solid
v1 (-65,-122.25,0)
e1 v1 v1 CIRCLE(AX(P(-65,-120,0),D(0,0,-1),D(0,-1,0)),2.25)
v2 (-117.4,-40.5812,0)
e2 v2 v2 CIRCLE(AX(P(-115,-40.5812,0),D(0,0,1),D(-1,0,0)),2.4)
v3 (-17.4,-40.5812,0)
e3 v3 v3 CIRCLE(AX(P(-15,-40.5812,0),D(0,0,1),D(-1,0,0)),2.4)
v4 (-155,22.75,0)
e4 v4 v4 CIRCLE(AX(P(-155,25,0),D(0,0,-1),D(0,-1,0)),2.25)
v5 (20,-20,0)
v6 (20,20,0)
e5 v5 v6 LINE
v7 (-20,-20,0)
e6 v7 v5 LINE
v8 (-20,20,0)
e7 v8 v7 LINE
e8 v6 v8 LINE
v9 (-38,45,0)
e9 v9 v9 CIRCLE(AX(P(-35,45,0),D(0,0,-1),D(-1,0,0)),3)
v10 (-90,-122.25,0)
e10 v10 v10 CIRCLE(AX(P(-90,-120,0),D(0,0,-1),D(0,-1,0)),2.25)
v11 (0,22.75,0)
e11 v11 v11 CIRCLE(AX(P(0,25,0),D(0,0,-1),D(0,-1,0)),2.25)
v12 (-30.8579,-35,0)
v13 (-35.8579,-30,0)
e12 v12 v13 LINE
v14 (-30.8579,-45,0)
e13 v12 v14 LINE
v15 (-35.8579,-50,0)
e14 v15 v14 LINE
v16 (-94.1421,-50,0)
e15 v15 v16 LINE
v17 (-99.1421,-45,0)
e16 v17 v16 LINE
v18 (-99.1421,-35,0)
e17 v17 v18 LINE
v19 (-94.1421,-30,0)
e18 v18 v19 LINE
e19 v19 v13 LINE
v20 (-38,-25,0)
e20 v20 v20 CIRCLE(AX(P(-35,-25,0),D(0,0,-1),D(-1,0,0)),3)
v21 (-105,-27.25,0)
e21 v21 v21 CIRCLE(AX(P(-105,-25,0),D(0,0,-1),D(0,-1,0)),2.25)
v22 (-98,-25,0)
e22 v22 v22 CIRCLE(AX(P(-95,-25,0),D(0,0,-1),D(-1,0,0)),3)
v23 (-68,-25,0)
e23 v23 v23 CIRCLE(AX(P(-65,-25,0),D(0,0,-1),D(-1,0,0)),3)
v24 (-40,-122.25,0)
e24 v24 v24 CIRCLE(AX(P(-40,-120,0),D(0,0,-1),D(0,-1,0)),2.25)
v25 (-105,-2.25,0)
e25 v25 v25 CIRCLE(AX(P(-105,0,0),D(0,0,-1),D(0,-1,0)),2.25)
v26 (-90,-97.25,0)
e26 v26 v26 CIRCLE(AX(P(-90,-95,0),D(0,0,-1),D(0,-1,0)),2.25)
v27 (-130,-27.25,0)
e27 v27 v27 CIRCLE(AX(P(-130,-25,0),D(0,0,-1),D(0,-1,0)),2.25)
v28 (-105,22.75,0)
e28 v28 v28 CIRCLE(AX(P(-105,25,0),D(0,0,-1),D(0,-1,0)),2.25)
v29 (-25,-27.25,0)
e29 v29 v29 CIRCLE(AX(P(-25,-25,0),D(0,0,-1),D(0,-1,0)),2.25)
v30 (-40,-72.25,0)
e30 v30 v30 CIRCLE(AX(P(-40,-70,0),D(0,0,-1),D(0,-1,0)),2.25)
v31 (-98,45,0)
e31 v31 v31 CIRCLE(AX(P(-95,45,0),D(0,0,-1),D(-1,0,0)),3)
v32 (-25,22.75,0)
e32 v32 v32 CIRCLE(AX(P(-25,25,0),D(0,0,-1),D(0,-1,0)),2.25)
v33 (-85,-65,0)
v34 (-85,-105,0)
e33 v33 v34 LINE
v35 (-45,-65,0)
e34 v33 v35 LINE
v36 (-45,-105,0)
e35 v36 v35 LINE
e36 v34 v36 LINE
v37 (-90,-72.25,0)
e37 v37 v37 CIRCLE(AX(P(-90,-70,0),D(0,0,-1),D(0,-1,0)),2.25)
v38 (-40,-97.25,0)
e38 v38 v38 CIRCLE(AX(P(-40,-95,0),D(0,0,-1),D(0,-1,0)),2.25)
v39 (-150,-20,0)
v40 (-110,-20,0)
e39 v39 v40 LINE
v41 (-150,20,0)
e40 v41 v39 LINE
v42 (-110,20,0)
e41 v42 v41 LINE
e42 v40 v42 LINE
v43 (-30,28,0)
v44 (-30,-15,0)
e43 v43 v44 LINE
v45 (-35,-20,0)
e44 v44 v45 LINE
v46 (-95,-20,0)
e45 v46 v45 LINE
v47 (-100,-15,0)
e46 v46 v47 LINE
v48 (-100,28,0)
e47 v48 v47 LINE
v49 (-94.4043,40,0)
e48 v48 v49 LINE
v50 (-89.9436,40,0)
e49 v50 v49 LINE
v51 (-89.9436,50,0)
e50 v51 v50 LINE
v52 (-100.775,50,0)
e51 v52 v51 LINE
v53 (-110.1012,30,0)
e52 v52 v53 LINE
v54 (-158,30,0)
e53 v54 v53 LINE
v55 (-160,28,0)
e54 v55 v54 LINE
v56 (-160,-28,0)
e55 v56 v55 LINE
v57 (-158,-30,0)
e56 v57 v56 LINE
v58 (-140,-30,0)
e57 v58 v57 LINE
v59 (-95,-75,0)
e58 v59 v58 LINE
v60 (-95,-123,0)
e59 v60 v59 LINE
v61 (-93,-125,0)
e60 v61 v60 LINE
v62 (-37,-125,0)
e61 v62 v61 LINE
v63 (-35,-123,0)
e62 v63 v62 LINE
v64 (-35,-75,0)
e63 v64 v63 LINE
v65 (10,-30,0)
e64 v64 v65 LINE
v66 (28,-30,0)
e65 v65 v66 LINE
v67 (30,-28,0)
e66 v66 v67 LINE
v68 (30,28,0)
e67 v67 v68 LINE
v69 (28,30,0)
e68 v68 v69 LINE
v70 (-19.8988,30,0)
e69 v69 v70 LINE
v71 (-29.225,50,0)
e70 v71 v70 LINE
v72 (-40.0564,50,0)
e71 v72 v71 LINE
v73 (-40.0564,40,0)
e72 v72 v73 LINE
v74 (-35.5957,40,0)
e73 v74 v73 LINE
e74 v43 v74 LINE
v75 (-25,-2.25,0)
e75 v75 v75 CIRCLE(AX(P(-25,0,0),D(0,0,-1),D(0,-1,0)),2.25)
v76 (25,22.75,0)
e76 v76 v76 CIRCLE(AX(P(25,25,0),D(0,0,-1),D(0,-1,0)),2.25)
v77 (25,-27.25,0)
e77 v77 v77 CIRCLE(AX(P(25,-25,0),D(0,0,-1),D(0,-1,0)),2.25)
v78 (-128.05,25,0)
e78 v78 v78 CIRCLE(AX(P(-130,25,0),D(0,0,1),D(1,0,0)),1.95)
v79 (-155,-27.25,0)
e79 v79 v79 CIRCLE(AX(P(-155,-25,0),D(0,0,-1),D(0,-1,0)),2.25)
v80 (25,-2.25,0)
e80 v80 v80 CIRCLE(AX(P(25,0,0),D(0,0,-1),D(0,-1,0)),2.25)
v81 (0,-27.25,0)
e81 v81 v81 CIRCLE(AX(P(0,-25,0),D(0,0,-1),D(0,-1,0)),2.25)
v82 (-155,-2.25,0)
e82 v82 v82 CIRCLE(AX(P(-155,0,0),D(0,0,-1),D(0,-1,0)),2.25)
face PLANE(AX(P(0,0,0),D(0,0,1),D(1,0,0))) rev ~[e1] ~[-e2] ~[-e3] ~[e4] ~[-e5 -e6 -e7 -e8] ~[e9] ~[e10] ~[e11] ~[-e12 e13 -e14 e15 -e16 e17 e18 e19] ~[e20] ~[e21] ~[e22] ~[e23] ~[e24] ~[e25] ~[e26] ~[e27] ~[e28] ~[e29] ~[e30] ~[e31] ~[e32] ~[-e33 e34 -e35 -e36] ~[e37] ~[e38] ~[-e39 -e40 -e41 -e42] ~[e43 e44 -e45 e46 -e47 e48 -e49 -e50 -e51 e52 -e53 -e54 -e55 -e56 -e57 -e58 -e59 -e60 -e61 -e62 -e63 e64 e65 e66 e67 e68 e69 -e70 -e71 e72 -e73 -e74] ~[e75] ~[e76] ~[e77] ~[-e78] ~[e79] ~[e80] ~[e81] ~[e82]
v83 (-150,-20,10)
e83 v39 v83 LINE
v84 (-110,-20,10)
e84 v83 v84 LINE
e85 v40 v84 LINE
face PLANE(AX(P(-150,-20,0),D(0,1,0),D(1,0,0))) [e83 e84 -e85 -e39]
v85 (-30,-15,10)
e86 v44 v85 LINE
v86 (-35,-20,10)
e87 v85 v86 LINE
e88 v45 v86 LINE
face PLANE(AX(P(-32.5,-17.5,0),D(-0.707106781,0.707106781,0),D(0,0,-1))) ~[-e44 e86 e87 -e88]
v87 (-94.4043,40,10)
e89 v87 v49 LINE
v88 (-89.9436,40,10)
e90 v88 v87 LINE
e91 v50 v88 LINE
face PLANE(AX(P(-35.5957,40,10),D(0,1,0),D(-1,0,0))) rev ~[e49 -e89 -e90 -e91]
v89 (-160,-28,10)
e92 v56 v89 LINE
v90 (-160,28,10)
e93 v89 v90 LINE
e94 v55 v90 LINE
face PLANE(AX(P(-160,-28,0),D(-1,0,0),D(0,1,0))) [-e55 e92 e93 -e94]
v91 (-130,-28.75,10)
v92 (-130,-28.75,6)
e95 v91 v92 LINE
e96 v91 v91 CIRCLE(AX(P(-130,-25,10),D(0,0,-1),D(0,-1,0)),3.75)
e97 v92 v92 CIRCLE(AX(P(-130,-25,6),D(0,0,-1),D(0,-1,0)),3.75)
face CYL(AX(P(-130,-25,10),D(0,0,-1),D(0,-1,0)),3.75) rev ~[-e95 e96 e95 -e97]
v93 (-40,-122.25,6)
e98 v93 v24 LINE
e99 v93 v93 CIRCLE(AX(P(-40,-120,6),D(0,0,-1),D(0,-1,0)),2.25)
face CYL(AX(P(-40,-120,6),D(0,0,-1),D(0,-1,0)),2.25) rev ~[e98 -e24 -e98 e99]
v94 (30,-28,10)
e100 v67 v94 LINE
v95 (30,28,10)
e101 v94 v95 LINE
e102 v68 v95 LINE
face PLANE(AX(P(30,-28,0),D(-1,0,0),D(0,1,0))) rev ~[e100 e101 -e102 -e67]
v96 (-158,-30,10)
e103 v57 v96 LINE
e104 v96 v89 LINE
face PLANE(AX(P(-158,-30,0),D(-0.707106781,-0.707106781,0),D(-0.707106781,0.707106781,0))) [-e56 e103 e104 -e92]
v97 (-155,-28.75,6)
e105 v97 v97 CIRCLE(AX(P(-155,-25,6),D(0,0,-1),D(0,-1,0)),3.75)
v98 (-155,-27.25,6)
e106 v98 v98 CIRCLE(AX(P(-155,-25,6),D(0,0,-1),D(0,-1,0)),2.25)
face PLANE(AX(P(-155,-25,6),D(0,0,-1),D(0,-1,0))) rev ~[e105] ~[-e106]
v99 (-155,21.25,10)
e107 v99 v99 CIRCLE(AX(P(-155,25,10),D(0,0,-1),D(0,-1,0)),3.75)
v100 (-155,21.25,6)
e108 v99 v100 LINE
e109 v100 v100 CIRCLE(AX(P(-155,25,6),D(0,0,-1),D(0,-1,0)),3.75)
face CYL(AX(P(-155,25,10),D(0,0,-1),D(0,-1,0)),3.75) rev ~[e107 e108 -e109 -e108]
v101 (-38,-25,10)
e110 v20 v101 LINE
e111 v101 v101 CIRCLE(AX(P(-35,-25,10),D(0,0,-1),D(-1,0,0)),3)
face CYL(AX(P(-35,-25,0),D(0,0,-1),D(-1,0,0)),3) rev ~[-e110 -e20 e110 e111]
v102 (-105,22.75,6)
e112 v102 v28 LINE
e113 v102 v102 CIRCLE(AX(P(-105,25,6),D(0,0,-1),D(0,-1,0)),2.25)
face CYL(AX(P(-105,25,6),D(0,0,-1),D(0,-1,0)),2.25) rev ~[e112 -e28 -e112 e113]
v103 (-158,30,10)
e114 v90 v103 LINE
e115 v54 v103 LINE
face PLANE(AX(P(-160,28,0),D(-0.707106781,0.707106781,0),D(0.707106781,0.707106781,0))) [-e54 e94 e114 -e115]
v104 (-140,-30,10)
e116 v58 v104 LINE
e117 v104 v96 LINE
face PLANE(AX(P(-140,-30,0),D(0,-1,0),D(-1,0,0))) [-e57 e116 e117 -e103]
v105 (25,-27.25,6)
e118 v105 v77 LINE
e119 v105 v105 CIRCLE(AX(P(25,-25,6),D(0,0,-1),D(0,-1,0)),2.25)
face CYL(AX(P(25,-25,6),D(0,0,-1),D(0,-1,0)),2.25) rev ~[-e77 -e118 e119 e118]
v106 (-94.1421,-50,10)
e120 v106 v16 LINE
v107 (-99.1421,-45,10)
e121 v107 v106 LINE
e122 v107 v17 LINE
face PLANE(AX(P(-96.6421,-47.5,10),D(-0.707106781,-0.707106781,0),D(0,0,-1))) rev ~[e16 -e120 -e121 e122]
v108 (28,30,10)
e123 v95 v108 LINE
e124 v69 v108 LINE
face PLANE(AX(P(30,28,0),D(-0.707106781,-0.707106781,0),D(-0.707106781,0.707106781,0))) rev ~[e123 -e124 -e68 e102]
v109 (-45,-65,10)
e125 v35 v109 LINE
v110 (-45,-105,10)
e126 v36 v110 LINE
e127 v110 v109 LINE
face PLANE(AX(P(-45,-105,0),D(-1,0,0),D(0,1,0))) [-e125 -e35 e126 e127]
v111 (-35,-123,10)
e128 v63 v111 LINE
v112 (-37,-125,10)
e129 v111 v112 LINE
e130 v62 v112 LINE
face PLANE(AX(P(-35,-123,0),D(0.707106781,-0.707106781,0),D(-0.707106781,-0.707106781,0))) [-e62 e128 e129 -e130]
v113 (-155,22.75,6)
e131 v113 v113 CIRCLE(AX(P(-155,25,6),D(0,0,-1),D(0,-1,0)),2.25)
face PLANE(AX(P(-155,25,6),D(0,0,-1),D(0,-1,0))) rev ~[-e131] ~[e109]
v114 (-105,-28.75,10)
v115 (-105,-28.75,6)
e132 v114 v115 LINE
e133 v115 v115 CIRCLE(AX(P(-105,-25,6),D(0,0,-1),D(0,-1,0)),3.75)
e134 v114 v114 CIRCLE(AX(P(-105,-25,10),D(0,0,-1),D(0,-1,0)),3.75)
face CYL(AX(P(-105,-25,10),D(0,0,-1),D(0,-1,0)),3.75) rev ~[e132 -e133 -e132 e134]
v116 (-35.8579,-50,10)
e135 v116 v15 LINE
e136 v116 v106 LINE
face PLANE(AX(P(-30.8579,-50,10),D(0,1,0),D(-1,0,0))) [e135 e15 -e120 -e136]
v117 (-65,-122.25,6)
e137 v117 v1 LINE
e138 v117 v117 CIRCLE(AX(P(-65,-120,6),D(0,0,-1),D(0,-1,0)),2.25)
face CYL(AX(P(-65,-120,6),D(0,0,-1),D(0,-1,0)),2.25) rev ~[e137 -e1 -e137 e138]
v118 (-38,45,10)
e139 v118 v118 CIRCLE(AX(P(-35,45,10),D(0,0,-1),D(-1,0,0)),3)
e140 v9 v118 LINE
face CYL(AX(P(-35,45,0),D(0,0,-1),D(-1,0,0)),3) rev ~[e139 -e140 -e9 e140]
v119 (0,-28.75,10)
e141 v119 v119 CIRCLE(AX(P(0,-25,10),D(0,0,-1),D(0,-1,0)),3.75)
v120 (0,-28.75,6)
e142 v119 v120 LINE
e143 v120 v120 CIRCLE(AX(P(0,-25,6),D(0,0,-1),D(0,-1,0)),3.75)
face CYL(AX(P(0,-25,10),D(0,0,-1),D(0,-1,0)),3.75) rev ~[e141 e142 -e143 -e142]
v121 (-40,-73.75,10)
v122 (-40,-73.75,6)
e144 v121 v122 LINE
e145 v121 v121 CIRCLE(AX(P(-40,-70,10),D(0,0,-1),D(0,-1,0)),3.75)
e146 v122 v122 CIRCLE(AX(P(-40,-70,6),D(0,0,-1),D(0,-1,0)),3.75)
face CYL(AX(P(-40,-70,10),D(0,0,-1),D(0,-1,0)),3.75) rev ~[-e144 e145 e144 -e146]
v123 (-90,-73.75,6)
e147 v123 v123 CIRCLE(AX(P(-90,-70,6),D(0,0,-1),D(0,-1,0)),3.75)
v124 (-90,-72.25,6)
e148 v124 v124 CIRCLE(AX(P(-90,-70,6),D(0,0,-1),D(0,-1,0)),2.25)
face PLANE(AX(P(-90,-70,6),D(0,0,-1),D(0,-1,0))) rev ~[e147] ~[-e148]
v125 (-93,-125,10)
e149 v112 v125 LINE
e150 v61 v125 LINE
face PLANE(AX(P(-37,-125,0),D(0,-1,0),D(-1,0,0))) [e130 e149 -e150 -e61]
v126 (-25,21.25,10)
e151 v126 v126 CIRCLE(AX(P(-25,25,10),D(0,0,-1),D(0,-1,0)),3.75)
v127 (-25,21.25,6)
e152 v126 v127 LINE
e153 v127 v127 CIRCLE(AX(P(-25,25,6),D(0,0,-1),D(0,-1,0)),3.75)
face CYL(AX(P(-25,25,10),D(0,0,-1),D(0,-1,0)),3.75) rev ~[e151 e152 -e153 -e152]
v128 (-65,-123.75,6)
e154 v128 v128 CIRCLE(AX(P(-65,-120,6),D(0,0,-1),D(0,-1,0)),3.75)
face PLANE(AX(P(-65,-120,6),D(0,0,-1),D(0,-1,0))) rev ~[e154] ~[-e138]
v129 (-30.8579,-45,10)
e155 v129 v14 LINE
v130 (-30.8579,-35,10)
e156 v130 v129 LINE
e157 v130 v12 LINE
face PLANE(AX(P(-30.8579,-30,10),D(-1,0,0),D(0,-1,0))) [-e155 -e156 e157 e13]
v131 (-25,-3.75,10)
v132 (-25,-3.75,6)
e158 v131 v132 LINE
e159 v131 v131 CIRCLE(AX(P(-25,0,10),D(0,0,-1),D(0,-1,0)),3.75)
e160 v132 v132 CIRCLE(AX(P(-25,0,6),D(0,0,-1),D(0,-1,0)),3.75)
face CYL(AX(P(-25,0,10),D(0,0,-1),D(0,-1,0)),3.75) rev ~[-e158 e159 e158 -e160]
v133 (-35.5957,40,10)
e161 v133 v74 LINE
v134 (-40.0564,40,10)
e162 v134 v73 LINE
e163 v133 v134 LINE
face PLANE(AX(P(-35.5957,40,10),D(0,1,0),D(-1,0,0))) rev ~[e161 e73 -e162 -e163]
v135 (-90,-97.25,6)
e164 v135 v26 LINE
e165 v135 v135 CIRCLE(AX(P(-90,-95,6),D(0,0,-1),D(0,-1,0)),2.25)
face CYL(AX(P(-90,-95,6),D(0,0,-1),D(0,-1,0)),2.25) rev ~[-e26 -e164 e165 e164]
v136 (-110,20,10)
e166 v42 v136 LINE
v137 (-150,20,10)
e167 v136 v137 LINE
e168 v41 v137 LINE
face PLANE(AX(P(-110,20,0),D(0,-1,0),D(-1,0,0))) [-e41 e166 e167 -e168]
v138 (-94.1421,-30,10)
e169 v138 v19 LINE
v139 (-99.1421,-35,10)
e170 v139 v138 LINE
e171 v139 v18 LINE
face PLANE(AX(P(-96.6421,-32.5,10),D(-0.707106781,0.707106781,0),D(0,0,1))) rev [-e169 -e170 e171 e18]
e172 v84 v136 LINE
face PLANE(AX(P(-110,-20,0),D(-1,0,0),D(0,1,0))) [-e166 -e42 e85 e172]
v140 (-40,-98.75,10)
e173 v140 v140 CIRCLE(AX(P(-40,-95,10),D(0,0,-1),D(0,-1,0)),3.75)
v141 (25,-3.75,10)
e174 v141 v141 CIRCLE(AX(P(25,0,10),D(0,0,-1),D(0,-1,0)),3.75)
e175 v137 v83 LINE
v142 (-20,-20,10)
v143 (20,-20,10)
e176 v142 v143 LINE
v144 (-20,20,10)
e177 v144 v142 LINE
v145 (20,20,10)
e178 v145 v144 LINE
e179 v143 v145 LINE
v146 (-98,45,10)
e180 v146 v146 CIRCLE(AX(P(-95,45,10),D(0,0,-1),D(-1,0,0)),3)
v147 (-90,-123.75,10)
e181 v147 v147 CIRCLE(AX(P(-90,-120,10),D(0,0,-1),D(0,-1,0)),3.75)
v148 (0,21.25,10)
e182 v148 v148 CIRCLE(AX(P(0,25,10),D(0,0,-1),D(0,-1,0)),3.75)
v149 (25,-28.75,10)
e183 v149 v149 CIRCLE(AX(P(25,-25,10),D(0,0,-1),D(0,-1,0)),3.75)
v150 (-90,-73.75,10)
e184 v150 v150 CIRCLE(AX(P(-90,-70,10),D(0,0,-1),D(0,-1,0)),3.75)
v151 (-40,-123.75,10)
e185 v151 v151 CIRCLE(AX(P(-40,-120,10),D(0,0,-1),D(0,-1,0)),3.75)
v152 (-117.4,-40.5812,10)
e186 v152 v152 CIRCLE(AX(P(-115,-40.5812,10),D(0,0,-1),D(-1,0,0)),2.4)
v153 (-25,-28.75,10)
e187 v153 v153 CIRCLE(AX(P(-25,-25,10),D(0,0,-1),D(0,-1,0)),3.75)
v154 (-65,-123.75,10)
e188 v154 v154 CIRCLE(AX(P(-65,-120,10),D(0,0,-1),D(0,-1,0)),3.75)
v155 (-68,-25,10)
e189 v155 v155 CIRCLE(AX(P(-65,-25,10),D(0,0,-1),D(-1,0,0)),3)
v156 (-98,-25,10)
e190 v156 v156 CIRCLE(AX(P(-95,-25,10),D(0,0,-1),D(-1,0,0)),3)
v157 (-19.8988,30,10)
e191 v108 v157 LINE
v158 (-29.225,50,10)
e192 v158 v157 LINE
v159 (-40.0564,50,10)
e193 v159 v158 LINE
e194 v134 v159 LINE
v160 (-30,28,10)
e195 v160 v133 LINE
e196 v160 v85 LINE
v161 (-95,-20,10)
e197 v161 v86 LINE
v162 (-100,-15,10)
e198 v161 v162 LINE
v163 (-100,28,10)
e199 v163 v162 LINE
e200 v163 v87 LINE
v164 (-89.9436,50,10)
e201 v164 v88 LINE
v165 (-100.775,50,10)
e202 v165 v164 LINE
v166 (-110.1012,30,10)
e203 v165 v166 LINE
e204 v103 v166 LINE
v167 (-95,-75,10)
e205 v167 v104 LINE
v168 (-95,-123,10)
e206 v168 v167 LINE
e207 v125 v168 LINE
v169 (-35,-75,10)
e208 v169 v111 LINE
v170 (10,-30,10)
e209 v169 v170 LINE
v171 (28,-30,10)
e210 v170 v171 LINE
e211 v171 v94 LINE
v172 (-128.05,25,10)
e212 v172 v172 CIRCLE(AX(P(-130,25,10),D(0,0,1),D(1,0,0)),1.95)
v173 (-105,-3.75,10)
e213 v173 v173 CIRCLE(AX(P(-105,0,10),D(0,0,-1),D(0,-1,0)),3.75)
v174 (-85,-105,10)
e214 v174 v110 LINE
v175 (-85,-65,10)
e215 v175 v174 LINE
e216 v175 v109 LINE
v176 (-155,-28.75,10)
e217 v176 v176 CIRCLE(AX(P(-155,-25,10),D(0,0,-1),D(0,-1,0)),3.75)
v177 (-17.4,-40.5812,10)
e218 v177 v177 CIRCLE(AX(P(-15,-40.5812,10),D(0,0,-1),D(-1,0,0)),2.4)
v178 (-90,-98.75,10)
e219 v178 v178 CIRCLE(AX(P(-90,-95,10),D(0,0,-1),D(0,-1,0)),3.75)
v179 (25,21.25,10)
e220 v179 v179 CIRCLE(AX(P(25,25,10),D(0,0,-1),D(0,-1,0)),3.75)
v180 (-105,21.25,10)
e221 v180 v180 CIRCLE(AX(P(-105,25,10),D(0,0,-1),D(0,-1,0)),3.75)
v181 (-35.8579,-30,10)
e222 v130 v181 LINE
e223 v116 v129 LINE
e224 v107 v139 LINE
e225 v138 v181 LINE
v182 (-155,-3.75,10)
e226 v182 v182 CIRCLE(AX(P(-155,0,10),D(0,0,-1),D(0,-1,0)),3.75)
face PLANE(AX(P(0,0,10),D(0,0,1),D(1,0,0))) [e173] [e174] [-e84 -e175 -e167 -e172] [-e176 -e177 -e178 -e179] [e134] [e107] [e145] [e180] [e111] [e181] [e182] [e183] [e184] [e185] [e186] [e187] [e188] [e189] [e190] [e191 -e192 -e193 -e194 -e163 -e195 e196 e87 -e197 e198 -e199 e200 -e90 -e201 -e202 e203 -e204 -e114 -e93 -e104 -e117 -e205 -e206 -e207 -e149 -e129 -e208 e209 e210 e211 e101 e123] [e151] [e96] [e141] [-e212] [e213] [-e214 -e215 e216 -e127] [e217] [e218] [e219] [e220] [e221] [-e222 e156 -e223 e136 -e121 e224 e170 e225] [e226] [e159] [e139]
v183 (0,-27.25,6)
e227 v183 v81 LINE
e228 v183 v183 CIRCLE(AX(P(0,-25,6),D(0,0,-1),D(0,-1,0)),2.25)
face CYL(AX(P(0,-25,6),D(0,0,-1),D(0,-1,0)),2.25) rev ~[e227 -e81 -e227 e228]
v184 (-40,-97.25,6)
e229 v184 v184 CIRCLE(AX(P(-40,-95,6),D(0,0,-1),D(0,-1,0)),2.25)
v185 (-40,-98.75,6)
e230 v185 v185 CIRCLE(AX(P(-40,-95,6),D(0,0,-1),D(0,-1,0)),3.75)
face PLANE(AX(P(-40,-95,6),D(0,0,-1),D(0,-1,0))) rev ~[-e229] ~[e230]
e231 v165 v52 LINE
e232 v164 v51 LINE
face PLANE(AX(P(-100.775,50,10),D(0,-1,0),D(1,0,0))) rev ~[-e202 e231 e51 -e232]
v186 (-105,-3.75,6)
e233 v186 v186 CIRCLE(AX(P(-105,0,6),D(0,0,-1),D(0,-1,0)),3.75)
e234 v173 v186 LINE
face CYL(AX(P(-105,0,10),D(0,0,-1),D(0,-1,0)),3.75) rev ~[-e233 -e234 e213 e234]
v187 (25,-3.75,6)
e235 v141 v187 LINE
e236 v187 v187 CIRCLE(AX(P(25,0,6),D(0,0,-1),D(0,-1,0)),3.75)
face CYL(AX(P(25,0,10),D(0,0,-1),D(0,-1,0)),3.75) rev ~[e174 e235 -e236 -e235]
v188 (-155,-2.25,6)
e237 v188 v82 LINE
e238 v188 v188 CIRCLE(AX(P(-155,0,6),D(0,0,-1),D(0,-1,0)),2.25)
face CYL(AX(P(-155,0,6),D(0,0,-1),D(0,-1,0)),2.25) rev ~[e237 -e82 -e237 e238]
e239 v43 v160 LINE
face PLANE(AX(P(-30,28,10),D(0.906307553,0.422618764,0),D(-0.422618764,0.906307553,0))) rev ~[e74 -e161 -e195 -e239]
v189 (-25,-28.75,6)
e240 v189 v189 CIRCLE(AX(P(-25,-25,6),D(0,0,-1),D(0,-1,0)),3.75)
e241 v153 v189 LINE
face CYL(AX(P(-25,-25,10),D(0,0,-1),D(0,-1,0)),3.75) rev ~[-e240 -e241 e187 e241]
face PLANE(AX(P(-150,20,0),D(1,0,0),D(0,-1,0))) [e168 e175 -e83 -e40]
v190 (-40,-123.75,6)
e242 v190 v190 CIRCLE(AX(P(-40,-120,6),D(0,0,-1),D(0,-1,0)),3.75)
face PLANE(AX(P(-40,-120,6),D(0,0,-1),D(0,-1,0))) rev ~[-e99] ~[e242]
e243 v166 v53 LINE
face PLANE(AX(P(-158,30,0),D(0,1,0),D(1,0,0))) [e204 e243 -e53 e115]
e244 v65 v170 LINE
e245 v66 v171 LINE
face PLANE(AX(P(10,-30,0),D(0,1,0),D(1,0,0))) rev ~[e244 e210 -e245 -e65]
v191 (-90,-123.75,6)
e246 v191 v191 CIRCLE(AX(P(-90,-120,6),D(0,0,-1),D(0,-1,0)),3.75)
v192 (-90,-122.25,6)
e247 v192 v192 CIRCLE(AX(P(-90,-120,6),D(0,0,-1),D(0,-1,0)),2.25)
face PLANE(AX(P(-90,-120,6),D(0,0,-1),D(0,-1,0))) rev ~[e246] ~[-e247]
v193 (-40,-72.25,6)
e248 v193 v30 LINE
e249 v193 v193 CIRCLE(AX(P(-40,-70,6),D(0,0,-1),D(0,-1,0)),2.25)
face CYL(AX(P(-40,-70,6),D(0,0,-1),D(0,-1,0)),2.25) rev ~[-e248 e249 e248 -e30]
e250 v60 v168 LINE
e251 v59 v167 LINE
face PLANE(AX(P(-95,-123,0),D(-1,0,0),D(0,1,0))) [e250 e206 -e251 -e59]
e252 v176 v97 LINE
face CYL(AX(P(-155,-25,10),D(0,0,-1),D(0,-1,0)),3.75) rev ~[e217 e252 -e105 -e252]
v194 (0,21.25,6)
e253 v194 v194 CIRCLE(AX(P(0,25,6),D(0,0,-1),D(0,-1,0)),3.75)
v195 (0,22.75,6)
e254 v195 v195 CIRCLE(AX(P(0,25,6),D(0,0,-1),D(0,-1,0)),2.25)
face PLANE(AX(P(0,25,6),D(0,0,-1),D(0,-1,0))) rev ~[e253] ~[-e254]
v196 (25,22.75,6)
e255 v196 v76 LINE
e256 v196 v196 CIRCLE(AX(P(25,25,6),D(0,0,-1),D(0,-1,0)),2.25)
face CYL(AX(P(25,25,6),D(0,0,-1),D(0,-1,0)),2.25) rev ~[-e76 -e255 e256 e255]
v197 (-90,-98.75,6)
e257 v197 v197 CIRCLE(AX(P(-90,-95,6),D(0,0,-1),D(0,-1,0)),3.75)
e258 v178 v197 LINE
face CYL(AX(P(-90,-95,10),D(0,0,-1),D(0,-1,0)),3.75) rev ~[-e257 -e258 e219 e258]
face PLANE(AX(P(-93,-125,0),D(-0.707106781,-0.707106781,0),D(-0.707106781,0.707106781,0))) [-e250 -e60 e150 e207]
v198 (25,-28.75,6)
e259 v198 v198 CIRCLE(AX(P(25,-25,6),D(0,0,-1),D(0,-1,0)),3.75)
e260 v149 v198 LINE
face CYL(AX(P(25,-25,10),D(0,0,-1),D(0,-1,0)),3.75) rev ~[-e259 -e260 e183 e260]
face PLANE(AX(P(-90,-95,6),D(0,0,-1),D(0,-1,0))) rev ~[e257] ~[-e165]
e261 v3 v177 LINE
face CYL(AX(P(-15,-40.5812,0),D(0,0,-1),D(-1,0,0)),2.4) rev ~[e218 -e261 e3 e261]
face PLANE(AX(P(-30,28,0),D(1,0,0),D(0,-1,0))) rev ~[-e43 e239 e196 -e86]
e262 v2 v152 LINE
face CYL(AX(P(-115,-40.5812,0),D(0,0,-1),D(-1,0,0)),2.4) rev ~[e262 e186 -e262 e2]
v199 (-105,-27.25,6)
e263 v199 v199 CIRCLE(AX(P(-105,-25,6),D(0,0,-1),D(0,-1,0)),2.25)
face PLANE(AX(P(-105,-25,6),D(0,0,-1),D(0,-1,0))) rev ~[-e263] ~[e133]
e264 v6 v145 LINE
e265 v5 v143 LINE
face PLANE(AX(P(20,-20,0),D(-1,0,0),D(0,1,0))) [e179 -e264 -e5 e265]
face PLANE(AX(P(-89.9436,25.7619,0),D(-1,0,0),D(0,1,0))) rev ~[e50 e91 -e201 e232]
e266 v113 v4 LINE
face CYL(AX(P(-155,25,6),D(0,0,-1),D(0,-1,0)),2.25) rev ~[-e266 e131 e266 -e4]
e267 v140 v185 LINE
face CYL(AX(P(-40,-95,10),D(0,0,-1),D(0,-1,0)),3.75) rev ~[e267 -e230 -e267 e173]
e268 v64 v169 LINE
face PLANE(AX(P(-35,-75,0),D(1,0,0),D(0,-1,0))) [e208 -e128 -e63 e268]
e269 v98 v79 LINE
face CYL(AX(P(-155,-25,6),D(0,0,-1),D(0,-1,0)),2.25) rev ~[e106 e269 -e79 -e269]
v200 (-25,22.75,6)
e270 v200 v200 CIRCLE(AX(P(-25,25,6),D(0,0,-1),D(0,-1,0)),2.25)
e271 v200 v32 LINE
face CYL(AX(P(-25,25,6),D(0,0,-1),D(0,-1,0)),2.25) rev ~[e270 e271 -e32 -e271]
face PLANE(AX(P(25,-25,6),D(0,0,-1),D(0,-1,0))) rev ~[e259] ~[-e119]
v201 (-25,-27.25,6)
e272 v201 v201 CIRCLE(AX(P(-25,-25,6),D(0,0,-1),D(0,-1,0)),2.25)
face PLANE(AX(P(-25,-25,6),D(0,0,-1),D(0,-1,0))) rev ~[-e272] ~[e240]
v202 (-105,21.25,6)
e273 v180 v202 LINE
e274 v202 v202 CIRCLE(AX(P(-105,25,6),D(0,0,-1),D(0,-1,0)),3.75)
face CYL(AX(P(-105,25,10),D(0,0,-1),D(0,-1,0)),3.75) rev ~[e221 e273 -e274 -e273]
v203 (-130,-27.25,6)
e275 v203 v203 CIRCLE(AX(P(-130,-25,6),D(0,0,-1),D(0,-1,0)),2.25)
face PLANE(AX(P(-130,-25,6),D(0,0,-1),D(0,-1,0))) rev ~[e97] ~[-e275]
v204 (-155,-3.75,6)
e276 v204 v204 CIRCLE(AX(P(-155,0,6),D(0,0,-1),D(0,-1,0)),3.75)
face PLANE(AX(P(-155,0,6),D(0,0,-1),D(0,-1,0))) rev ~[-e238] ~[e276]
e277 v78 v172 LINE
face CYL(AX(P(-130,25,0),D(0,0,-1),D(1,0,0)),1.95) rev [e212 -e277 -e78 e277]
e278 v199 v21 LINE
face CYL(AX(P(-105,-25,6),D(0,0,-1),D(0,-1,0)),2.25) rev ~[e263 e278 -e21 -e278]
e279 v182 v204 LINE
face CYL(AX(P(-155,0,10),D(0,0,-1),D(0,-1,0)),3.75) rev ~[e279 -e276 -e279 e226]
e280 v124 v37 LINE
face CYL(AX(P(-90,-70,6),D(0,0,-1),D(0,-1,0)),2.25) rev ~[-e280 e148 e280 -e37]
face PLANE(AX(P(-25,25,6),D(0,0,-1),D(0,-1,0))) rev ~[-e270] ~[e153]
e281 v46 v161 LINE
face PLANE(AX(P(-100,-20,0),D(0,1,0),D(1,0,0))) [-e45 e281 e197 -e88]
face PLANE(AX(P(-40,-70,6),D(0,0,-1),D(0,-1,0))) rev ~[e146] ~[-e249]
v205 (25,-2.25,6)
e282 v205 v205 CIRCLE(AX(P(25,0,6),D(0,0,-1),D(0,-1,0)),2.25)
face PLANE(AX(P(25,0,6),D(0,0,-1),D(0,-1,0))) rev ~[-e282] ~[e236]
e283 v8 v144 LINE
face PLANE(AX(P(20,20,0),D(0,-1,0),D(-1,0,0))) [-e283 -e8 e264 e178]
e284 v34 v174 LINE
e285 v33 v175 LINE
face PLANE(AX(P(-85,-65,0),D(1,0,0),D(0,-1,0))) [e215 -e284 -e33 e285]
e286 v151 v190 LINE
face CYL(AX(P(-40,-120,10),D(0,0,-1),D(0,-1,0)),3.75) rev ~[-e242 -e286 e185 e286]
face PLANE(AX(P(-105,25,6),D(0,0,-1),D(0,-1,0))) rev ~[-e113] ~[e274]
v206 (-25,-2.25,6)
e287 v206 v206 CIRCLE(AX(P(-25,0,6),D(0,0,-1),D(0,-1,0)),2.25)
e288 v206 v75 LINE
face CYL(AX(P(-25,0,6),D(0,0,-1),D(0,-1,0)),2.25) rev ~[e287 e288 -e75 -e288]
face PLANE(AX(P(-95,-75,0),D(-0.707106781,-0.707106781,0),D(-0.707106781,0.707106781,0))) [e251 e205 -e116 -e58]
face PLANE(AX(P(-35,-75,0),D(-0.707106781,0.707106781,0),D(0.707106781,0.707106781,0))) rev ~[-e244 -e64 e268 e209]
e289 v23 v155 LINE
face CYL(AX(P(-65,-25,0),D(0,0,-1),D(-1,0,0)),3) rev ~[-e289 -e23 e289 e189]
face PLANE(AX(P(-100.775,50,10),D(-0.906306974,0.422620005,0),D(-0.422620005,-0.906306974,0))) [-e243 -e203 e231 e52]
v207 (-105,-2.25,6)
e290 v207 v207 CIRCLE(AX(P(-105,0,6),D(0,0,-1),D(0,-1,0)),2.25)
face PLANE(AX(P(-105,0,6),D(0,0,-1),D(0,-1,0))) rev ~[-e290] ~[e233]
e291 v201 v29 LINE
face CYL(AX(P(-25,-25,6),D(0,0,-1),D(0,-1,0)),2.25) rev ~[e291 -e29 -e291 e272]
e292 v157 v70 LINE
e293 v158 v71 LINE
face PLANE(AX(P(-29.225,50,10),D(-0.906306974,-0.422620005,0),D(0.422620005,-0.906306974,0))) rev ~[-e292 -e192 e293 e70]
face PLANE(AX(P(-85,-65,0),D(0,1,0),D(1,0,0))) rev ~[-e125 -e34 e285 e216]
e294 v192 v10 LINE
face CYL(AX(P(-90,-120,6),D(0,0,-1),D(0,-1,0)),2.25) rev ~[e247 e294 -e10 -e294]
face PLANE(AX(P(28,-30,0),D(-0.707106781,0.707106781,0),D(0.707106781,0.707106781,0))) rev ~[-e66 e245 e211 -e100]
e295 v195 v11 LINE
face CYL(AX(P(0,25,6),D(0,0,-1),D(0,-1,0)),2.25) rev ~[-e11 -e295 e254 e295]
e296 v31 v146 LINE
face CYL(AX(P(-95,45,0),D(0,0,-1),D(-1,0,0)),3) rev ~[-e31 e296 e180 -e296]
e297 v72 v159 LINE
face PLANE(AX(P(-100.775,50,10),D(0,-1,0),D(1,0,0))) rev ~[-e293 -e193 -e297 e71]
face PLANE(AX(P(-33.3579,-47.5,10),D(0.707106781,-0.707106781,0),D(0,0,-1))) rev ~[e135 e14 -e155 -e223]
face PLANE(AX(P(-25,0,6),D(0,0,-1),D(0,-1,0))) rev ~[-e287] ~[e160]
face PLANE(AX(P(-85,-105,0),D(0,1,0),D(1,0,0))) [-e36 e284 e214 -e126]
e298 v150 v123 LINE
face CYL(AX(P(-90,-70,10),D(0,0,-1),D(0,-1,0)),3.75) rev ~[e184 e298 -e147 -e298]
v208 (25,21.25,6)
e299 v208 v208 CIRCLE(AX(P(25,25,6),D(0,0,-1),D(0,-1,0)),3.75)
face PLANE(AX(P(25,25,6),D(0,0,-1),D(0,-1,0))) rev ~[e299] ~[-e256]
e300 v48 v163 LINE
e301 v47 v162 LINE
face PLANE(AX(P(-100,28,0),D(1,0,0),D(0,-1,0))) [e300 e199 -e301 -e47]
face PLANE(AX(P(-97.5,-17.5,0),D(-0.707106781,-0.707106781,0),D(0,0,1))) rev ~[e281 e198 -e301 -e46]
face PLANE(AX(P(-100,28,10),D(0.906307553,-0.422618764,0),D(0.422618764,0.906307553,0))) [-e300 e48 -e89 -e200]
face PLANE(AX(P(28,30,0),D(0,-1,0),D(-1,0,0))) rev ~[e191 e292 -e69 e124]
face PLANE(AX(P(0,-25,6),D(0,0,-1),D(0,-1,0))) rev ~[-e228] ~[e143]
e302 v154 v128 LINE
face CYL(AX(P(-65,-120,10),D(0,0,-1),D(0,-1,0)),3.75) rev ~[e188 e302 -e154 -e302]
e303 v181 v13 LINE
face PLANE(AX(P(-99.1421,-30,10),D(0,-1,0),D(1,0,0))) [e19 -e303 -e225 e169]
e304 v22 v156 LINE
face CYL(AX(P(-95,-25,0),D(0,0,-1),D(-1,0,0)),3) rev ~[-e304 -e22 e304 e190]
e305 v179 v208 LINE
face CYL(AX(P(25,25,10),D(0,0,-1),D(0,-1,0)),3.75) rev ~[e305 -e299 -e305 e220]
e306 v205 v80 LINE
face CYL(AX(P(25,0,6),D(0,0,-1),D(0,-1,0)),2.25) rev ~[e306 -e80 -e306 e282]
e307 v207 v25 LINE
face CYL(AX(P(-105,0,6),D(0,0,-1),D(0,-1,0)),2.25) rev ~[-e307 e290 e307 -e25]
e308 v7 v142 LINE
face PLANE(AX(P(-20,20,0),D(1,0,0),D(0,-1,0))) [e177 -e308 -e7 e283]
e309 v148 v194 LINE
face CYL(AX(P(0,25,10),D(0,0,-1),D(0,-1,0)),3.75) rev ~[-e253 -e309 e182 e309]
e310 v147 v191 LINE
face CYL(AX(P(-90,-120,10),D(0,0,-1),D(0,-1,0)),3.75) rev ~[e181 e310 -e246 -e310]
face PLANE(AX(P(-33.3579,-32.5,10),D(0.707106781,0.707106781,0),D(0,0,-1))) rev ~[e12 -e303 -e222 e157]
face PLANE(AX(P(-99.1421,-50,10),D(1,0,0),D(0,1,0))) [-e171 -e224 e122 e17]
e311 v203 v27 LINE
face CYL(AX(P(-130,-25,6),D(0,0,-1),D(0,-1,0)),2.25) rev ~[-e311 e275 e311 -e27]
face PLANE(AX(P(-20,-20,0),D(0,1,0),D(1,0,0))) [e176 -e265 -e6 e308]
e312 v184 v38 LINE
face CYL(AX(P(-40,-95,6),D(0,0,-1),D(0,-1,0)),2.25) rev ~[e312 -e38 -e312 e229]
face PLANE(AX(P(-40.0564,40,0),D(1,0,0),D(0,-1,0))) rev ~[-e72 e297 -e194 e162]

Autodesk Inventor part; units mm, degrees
ref_plane "YZ Plane" through (0, 0, 0) normal (1, 0, 0) x (0, 1, 0)
ref_plane "XZ Plane" through (0, 0, 0) normal (0, 1, 0) x (-1, 0, 0)
ref_plane "XY Plane" through (0, 0, 0) normal (0, 0, 1) x (1, 0, 0)
ref_plane "Work Plane1" through (0, 0, 0) normal (0, 0, 1) x (1, 0, 0)
sketch "Sketch1" plane through (0, 0, 0) normal (0, 0, 1) x (1, 0, 0)
  circle A0 centre (0, 25) radius 1.95 projected
  circle A1 centre (-25, 0) radius 1.95 projected
  circle A2 centre (-25, -25) radius 1.95 projected
  circle A3 centre (25, 25) radius 1.95 projected
  circle A4 centre (25, -25) radius 1.95 projected
  circle A5 centre (-25, 25) radius 1.95 projected
  circle A6 centre (25, 0) radius 1.95 projected
  circle A7 centre (0, -25) radius 1.95 projected
  line L0 (-28, 30) -> (-30, 28) projected
  line L1 (-30, 28) -> (-30, -28) projected
  line L2 (-30, -28) -> (-28, -30) projected
  line L3 (-28, -30) -> (28, -30) projected
  line L4 (28, -30) -> (30, -28) projected
  line L5 (30, -28) -> (30, 28) projected
  line L6 (30, 28) -> (28, 30) projected
  line L7 (28, 30) -> (-28, 30) projected
  circle A8 centre (-130, 25) radius 1.95 projected
  circle A9 centre (-105, 0) radius 1.95 projected
  circle A10 centre (-105, -25) radius 1.95 projected
  circle A11 centre (-155, 25) radius 1.95 projected
  circle A12 centre (-155, -25) radius 1.95 projected
  circle A13 centre (-105, 25) radius 1.95 projected
  circle A14 centre (-155, 0) radius 1.95 projected
  circle A15 centre (-130, -25) radius 1.95 projected
  line L8 (-102, 30) -> (-100, 28) projected
  line L9 (-100, 28) -> (-100, -28) projected
  line L10 (-100, -28) -> (-102, -30) projected
  line L11 (-102, -30) -> (-158, -30) projected
  line L12 (-158, -30) -> (-160, -28) projected
  line L13 (-160, -28) -> (-160, 28) projected
  line L14 (-160, 28) -> (-158, 30) projected
  line L15 (-158, 30) -> (-102, 30) projected
  circle A16 centre (-90, -95) radius 1.95 projected
  circle A17 centre (-65, -70) radius 1.95 projected
  circle A18 centre (-40, -70) radius 1.95 projected
  circle A19 centre (-90, -120) radius 1.95 projected
  circle A20 centre (-40, -120) radius 1.95 projected
  circle A21 centre (-90, -70) radius 1.95 projected
  circle A22 centre (-65, -120) radius 1.95 projected
  circle A23 centre (-40, -95) radius 1.95 projected
  line L16 (-95, -67) -> (-93, -65) projected
  line L17 (-93, -65) -> (-37, -65) projected
  line L18 (-37, -65) -> (-35, -67) projected
  line L19 (-35, -67) -> (-35, -123) projected
  line L20 (-35, -123) -> (-37, -125) projected
  line L21 (-37, -125) -> (-93, -125) projected
  line L22 (-93, -125) -> (-95, -123) projected
  line L23 (-95, -123) -> (-95, -67) projected
  line L24 (-100, -20) -> (-30, -20)
  line L25 (-35, -75) -> (10, -30)
  line L26 (-35, -75) -> (28.6396, -75) construction
  line L27 (-95, -75) -> (-140, -30)
  line L28 (-45, -65) -> (-85, -65)
  line L29 (-85, -65) -> (-85, -105)
  line L30 (-85, -105) -> (-45, -105)
  line L31 (-45, -105) -> (-45, -65)
  line L32 (-45, -65) -> (-85, -105) construction
  line L33 (-85, -65) -> (-45, -105) construction
  line L34 (-110, 20) -> (-150, 20)
  line L35 (-150, 20) -> (-150, -20)
  line L36 (-150, -20) -> (-110, -20)
  line L37 (-110, -20) -> (-110, 20)
  line L38 (-110, 20) -> (-150, -20) construction
  line L39 (-150, 20) -> (-110, -20) construction
  line L40 (20, 20) -> (-20, 20)
  line L41 (-20, 20) -> (-20, -20)
  line L42 (-20, -20) -> (20, -20)
  line L43 (20, -20) -> (20, 20)
  line L44 (20, 20) -> (-20, -20) construction
  line L45 (-20, 20) -> (20, -20) construction
  point P0 (0, 0)
  point P1 (-65, -85)
  point P2 (-130, 0)
  dimension "d0" = 45
  dimension "d1" = 10
  dimension "d2" = 20
  dimension "d3" = 20
  dimension "d4" = 135
  dimension "d5" = 40
  dimension "d6" = 40
  dimension "d7" = 40
  dimension "d8" = 40
  dimension "d9" = 40
  dimension "d10" = 40
extrude "Extrusion1" add sketch "Sketch1" along normal blind 10 contours L7 L6 L5 L4 L3 L2 L1 L0 | L1 L2 L3 L25 L19 L18 L17 L16 L23 L27 L11 L10 L9 L24 | L9 L10 L11 L12 L13 L14 L15 L8 | L19 L20 L21 L22 L23 L16 L17 L29 L30 L31 L18
sketch "Sketch2" plane through (0, 0, 10) normal (0, 0, 1) x (1, 0, 0)
  line L0 (-45, -65) -> (-45, -105) projected
  line L1 (-45, -105) -> (-85, -105) projected
  line L2 (-85, -105) -> (-85, -65) projected
  line L3 (-85, -65) -> (-45, -65) projected
  circle A0 centre (-40, -95) radius 1.95 projected
  circle A1 centre (-65, -120) radius 1.95 projected
  circle A2 centre (-90, -70) radius 1.95 projected
  circle A3 centre (-40, -120) radius 1.95 projected
  circle A4 centre (-90, -120) radius 1.95 projected
  circle A5 centre (-40, -70) radius 1.95 projected
  circle A6 centre (-90, -95) radius 1.95 projected
  line L4 (-110, 20) -> (-110, -20) projected
  line L5 (-110, -20) -> (-150, -20) projected
  line L6 (-150, -20) -> (-150, 20) projected
  line L7 (-150, 20) -> (-110, 20) projected
  circle A7 centre (-130, -25) radius 1.95 projected
  circle A8 centre (-155, 0) radius 1.95 projected
  circle A9 centre (-105, 25) radius 1.95 projected
  circle A10 centre (-155, -25) radius 1.95 projected
  circle A11 centre (-155, 25) radius 1.95 projected
  circle A12 centre (-105, -25) radius 1.95 projected
  circle A13 centre (-105, 0) radius 1.95 projected
  circle A14 centre (-130, 25) radius 1.95 projected
  line L8 (20, 20) -> (20, -20) projected
  line L9 (20, -20) -> (-20, -20) projected
  line L10 (-20, -20) -> (-20, 20) projected
  line L11 (-20, 20) -> (20, 20) projected
  circle A15 centre (0, -25) radius 1.95 projected
  circle A16 centre (25, 0) radius 1.95 projected
  circle A17 centre (-25, 25) radius 1.95 projected
  circle A18 centre (25, -25) radius 1.95 projected
  circle A19 centre (25, 25) radius 1.95 projected
  circle A20 centre (-25, -25) radius 1.95 projected
  circle A21 centre (-25, 0) radius 1.95 projected
  circle A22 centre (0, 25) radius 1.95 projected
  line L12 (-102, 30) -> (-158, 30) projected
  line L13 (-158, 30) -> (-160, 28) projected
  line L14 (-160, 28) -> (-160, -28) projected
  line L15 (-160, -28) -> (-158, -30) projected
  line L16 (-158, -30) -> (-140, -30) projected
  line L17 (-140, -30) -> (-95, -75) projected
  line L18 (-95, -75) -> (-95, -123) projected
  line L19 (-95, -123) -> (-93, -125) projected
  line L20 (-93, -125) -> (-37, -125) projected
  line L21 (-37, -125) -> (-35, -123) projected
  line L22 (-35, -123) -> (-35, -75) projected
  line L23 (-35, -75) -> (10, -30) projected
  line L24 (10, -30) -> (28, -30) projected
  line L25 (28, -30) -> (30, -28) projected
  line L26 (30, -28) -> (30, 28) projected
  line L27 (30, 28) -> (28, 30) projected
  line L28 (28, 30) -> (-28, 30) projected
  line L29 (-28, 30) -> (-30, 28) projected
  line L30 (-30, 28) -> (-30, -20) projected
  line L31 (-30, -20) -> (-100, -20) projected
  line L32 (-100, -20) -> (-100, 28) projected
  line L33 (-100, 28) -> (-102, 30) projected
  point P0 (0, 0)
hole "Hole1" at (-155, 25, 10) at (-155, 0, 10) at (-155, -25, 10) at (-130, -25, 10) at (-105, -25, 10) at (-105, 0, 10) at (-105, 25, 10) at (-25, 25, 10) at (-25, 0, 10) at (-25, -25, 10) at (0, -25, 10) at (25, -25, 10) at (25, 0, 10) at (25, 25, 10) at (0, 25, 10) at (-40, -70, 10) at (-90, -70, 10) at (-90, -95, 10) at (-90, -120, 10) at (-65, -120, 10) at (-40, -120, 10) at (-40, -95, 10) direction (0, 0, -1) diameter 4.5 depth 20 tip angle 118 counterbore diameter 7.5 counterbore depth 4
sketch "Sketch3" plane through (0, 0, 10) normal (0, 0, 1) x (1, 0, 0)
  circle A0 centre (-40, -120) radius 3.75 projected
  circle A1 centre (-90, -120) radius 3.75 projected
  circle A2 centre (-90, -70) radius 3.75 projected
  circle A3 centre (-40, -70) radius 3.75 projected
  circle A4 centre (25, 25) radius 3.75 projected
  circle A5 centre (25, -25) radius 3.75 projected
  circle A6 centre (-25, -25) radius 3.75 projected
  circle A7 centre (-25, 25) radius 3.75 projected
  circle A8 centre (-105, 0) radius 3.75 projected
  circle A9 centre (-130, -25) radius 3.75 projected
  circle A10 centre (-155, 0) radius 3.75 projected
  circle A11 centre (-155, 25) radius 3.75 projected
  circle A12 centre (-155, -25) radius 3.75 projected
  circle A13 centre (-105, -25) radius 3.75 projected
  circle A14 centre (-105, 25) radius 3.75 projected
  circle A15 centre (-25, 0) radius 3.75 projected
  circle A16 centre (0, -25) radius 3.75 projected
  circle A17 centre (25, 0) radius 3.75 projected
  circle A18 centre (0, 25) radius 3.75 projected
  circle A19 centre (-90, -95) radius 3.75 projected
  circle A20 centre (-65, -120) radius 3.75 projected
  circle A21 centre (-40, -95) radius 3.75 projected
  line L0 (-45, -65) -> (-45, -105) projected
  line L1 (-45, -105) -> (-85, -105) projected
  line L2 (-85, -105) -> (-85, -65) projected
  line L3 (-85, -65) -> (-45, -65) projected
  line L4 (-110, 20) -> (-110, -20) projected
  line L5 (-110, -20) -> (-150, -20) projected
  line L6 (-150, -20) -> (-150, 20) projected
  line L7 (-150, 20) -> (-110, 20) projected
  circle A22 centre (-130, 25) radius 1.95 projected
  line L8 (20, 20) -> (20, -20) projected
  line L9 (20, -20) -> (-20, -20) projected
  line L10 (-20, -20) -> (-20, 20) projected
  line L11 (-20, 20) -> (20, 20) projected
  line L12 (-102, 30) -> (-158, 30) projected
  line L13 (-158, 30) -> (-160, 28) projected
  line L14 (-160, 28) -> (-160, -28) projected
  line L15 (-160, -28) -> (-158, -30) projected
  line L16 (-158, -30) -> (-140, -30) projected
  line L17 (-140, -30) -> (-95, -75) projected
  line L18 (-95, -75) -> (-95, -123) projected
  line L19 (-95, -123) -> (-93, -125) projected
  line L20 (-93, -125) -> (-37, -125) projected
  line L21 (-37, -125) -> (-35, -123) projected
  line L22 (-35, -123) -> (-35, -75) projected
  line L23 (-35, -75) -> (10, -30) projected
  line L24 (10, -30) -> (28, -30) projected
  line L25 (28, -30) -> (30, -28) projected
  line L26 (30, -28) -> (30, 28) projected
  line L27 (30, 28) -> (28, 30) projected
  line L28 (28, 30) -> (-28, 30) projected
  line L29 (-28, 30) -> (-30, 28) projected
  line L30 (-30, 28) -> (-30, -20) projected
  line L31 (-30, -20) -> (-100, -20) projected
  line L32 (-100, -20) -> (-100, 28) projected
  line L33 (-100, 28) -> (-102, 30) projected
  line L34 (-99.1421, -30) -> (-30.8579, -30)
  line L35 (-30.8579, -30) -> (-20, -19.1421)
  line L36 (-20, -19.1421) -> (-20, 20)
  line L37 (-20, 20) -> (20, 20)
  line L38 (20, 20) -> (20, -20)
  line L39 (20, -20) -> (5.8579, -20)
  line L40 (5.8579, -20) -> (-45, -70.8579)
  line L41 (-45, -70.8579) -> (-45, -115)
  line L42 (-45, -115) -> (-85, -115)
  line L43 (-85, -115) -> (-85, -70.8579)
  line L44 (-85, -70.8579) -> (-135.8579, -20)
  line L45 (-135.8579, -20) -> (-150, -20)
  line L46 (-150, -20) -> (-150, 20)
  line L47 (-150, 20) -> (-110, 20)
  line L48 (-110, 20) -> (-110, -19.1421)
  line L49 (-110, -19.1421) -> (-99.1421, -30)
  line L50 (-99.1421, -30) -> (-30.8579, -30)
  line L51 (-30.8579, -30) -> (-30.8579, -50)
  line L52 (-30.8579, -50) -> (-99.1421, -50)
  line L53 (-99.1421, -50) -> (-99.1421, -30)
  point P0 (0, 0)
  dimension "d23" = 10
  dimension "d24" = 20
extrude "Extrusion2" cut sketch "Sketch3" against normal through all contours L34 L51 L52 L53
chamfer "Chamfer2" distance 5 angle 45 6 edges at (-30.8579, -30, 5) (-30.8579, -50, 5) (-99.1421, -30, 5) (-99.1421, -50, 5) (-30, -20, 5) (-100, -20, 5)
sketch "Sketch4" plane through (0, 0, 10) normal (0, 0, 1) x (1, 0, 0)
  line L0 (-99.1421, -45) -> (-99.1421, -35) projected
  line L1 (-94.1421, -30) -> (-99.1421, -35) projected
  line L2 (-94.1421, -30) -> (-35.8579, -30) projected
  line L3 (-30.8579, -35) -> (-35.8579, -30) projected
  line L4 (-30.8579, -35) -> (-30.8579, -45) projected
  line L5 (-35.8579, -50) -> (-30.8579, -45) projected
  line L6 (-35.8579, -50) -> (-94.1421, -50) projected
  line L7 (-99.1421, -45) -> (-94.1421, -50) projected
  circle A0 centre (-40, -120) radius 3.75 projected
  circle A1 centre (-90, -120) radius 3.75 projected
  circle A2 centre (-90, -70) radius 3.75 projected
  circle A3 centre (0, 25) radius 3.75 projected
  circle A4 centre (25, 0) radius 3.75 projected
  circle A5 centre (0, -25) radius 3.75 projected
  circle A6 centre (-25, 0) radius 3.75 projected
  circle A7 centre (-105, 25) radius 3.75 projected
  circle A8 centre (-105, -25) radius 3.75 projected
  circle A9 centre (-155, -25) radius 3.75 projected
  circle A10 centre (-155, 25) radius 3.75 projected
  circle A11 centre (-155, 0) radius 3.75 projected
  circle A12 centre (-130, -25) radius 3.75 projected
  circle A13 centre (-105, 0) radius 3.75 projected
  circle A14 centre (-25, 25) radius 3.75 projected
  circle A15 centre (-25, -25) radius 3.75 projected
  circle A16 centre (25, -25) radius 3.75 projected
  circle A17 centre (25, 25) radius 3.75 projected
  circle A18 centre (-40, -70) radius 3.75 projected
  circle A19 centre (-90, -95) radius 3.75 projected
  circle A20 centre (-65, -120) radius 3.75 projected
  circle A21 centre (-40, -95) radius 3.75 projected
  line L8 (-45, -65) -> (-45, -105) projected
  line L9 (-45, -105) -> (-85, -105) projected
  line L10 (-85, -105) -> (-85, -65) projected
  line L11 (-85, -65) -> (-45, -65) projected
  line L12 (-110, 20) -> (-110, -20) projected
  line L13 (-110, -20) -> (-150, -20) projected
  line L14 (-150, -20) -> (-150, 20) projected
  line L15 (-150, 20) -> (-110, 20) projected
  circle A22 centre (-130, 25) radius 1.95 projected
  line L16 (20, 20) -> (20, -20) projected
  line L17 (20, -20) -> (-20, -20) projected
  line L18 (-20, -20) -> (-20, 20) projected
  line L19 (-20, 20) -> (20, 20) projected
  line L20 (-102, 30) -> (-158, 30) projected
  line L21 (-158, 30) -> (-160, 28) projected
  line L22 (-160, 28) -> (-160, -28) projected
  line L23 (-160, -28) -> (-158, -30) projected
  line L24 (-158, -30) -> (-140, -30) projected
  line L25 (-140, -30) -> (-95, -75) projected
  line L26 (-95, -75) -> (-95, -123) projected
  line L27 (-95, -123) -> (-93, -125) projected
  line L28 (-93, -125) -> (-37, -125) projected
  line L29 (-37, -125) -> (-35, -123) projected
  line L30 (-35, -123) -> (-35, -75) projected
  line L31 (-35, -75) -> (10, -30) projected
  line L32 (10, -30) -> (28, -30) projected
  line L33 (28, -30) -> (30, -28) projected
  line L34 (30, -28) -> (30, 28) projected
  line L35 (30, 28) -> (28, 30) projected
  line L36 (28, 30) -> (-28, 30) projected
  line L37 (-28, 30) -> (-30, 28) projected
  line L38 (-30, 28) -> (-30, -15) projected
  line L39 (-35, -20) -> (-30, -15) projected
  line L40 (-35, -20) -> (-95, -20) projected
  line L41 (-100, -15) -> (-95, -20) projected
  line L42 (-100, -15) -> (-100, 28) projected
  line L43 (-100, 28) -> (-102, 30) projected
  line L44 (-100.775, 50) -> (-29.225, 50)
  line L45 (-35.5957, 40) -> (-94.4043, 40)
  line L46 (-100.775, 50) -> (-110.1012, 30)
  line L47 (-100.775, 50) -> (-78.7075, 50) construction
  line L48 (-100, 28) -> (-102, 30) projected
  line L49 (-100, 28) -> (-94.4043, 40)
  line L50 (-29.225, 50) -> (-19.8988, 30)
  line L51 (28, 30) -> (-28, 30) projected
  line L52 (-29.225, 50) -> (-7.1574, 50) construction
  line L53 (-30, 28) -> (-35.5957, 40)
  line L54 (-30, 28) -> (-16.7595, 28) construction
  line L55 (28, 30) -> (-28, 30) projected
  point P0 (0, 0)
  dimension "deg_1" = 115
  dimension "d33" = 115
  dimension "d54" = 10
  dimension "d55" = 10
  dimension "d56" = 10
  dimension "d57" = 10
extrude "Extrusion3" add sketch "Sketch4" against normal up to surface (10 mm away) contours L20 L46 L44 L50 L36 L37 L53 L45 L49 L43
sketch "Sketch5" plane through (0, 0, 0) normal (0, 0, -1) x (-1, 0, 0)
  circle A0 centre (65, 12.1599) radius 7 projected
  line L0 (100.775, 50) -> (29.225, 50) projected
  line L1 (35.8579, -30) -> (94.1421, -30) projected
  circle A1 centre (95, -25) radius 3
  circle A2 centre (35, -25) radius 3
  circle A3 centre (35, 45) radius 3
  circle A4 centre (95, 45) radius 3
  line L2 (35, -20) -> (95, -20) projected
  circle A5 centre (65, -25) radius 3
  point P0 (0, 0)
  point P1 (65, -6.188)
  point P2 (101, 46)
  dimension "d38" = 6
  dimension "d39" = 6
  dimension "d40" = 6
  dimension "d43" = 5
  dimension "d44" = 6
  dimension "d45" = 5
  dimension "d48" = 5
  dimension "d49" = 5
  dimension "d51" = 6
  dimension "d59" = 30
  dimension "d60" = 30
  dimension "d61" = 0
  dimension "d62" = 0
extrude "Extrusion4" cut sketch "Sketch5" against normal through all
sketch "Sketch6" plane through (0, 0, 0) normal (0, 0, -1) x (-1, 0, 0)
  circle A0 centre (95, 45) radius 3 projected
  circle A1 centre (35, -25) radius 3 projected
  circle A2 centre (95, -25) radius 3 projected
  circle A3 centre (35, 45) radius 3 projected
  circle A4 centre (65, -25) radius 3 projected
  line L0 (100, -15) -> (100, 28) projected
  line L1 (95, -20) -> (100, -15) projected
  line L2 (35, -20) -> (95, -20) projected
  line L3 (30, -15) -> (35, -20) projected
  line L4 (30, 28) -> (30, -15) projected
  line L5 (30, 28) -> (35.5957, 40) projected
  line L6 (35.5957, 40) -> (94.4043, 40) projected
  line L7 (94.4043, 40) -> (100, 28) projected
  line L8 (99.1421, -35) -> (99.1421, -45) projected
  line L9 (94.1421, -50) -> (99.1421, -45) projected
  line L10 (94.1421, -50) -> (35.8579, -50) projected
  line L11 (30.8579, -45) -> (35.8579, -50) projected
  line L12 (30.8579, -45) -> (30.8579, -35) projected
  line L13 (35.8579, -30) -> (30.8579, -35) projected
  line L14 (35.8579, -30) -> (94.1421, -30) projected
  line L15 (99.1421, -35) -> (94.1421, -30) projected
  circle A5 centre (40, -120) radius 2.25 projected
  circle A6 centre (90, -120) radius 2.25 projected
  circle A7 centre (90, -70) radius 2.25 projected
  circle A8 centre (0, 25) radius 2.25 projected
  circle A9 centre (-25, 0) radius 2.25 projected
  circle A10 centre (0, -25) radius 2.25 projected
  circle A11 centre (25, 0) radius 2.25 projected
  circle A12 centre (105, 25) radius 2.25 projected
  circle A13 centre (105, -25) radius 2.25 projected
  circle A14 centre (155, -25) radius 2.25 projected
  circle A15 centre (155, 25) radius 2.25 projected
  circle A16 centre (155, 0) radius 2.25 projected
  circle A17 centre (130, -25) radius 2.25 projected
  circle A18 centre (105, 0) radius 2.25 projected
  circle A19 centre (25, 25) radius 2.25 projected
  circle A20 centre (25, -25) radius 2.25 projected
  circle A21 centre (-25, -25) radius 2.25 projected
  circle A22 centre (-25, 25) radius 2.25 projected
  circle A23 centre (40, -70) radius 2.25 projected
  circle A24 centre (90, -95) radius 2.25 projected
  circle A25 centre (65, -120) radius 2.25 projected
  circle A26 centre (40, -95) radius 2.25 projected
  line L16 (45, -105) -> (45, -65) projected
  line L17 (45, -65) -> (85, -65) projected
  line L18 (85, -65) -> (85, -105) projected
  line L19 (85, -105) -> (45, -105) projected
  line L20 (110, -20) -> (110, 20) projected
  line L21 (110, 20) -> (150, 20) projected
  line L22 (150, 20) -> (150, -20) projected
  line L23 (150, -20) -> (110, -20) projected
  circle A27 centre (130, 25) radius 1.95 projected
  line L24 (-20, -20) -> (-20, 20) projected
  line L25 (-20, 20) -> (20, 20) projected
  line L26 (20, 20) -> (20, -20) projected
  line L27 (20, -20) -> (-20, -20) projected
  line L28 (110.1012, 30) -> (100.775, 50) projected
  line L29 (100.775, 50) -> (29.225, 50) projected
  line L30 (29.225, 50) -> (19.8988, 30) projected
  line L31 (-28, 30) -> (19.8988, 30) projected
  line L32 (-30, 28) -> (-28, 30) projected
  line L33 (-30, -28) -> (-30, 28) projected
  line L34 (-28, -30) -> (-30, -28) projected
  line L35 (-10, -30) -> (-28, -30) projected
  line L36 (35, -75) -> (-10, -30) projected
  line L37 (35, -123) -> (35, -75) projected
  line L38 (37, -125) -> (35, -123) projected
  line L39 (93, -125) -> (37, -125) projected
  line L40 (95, -123) -> (93, -125) projected
  line L41 (95, -75) -> (95, -123) projected
  line L42 (140, -30) -> (95, -75) projected
  line L43 (158, -30) -> (140, -30) projected
  line L44 (160, -28) -> (158, -30) projected
  line L45 (160, 28) -> (160, -28) projected
  line L46 (158, 30) -> (160, 28) projected
  line L47 (110.1012, 30) -> (158, 30) projected
  line L48 (40.0564, 25.7619) -> (89.9436, 25.7619)
  line L49 (89.9436, 25.7619) -> (89.9436, 63.5954)
  line L50 (89.9436, 63.5954) -> (40.0564, 63.5954)
  line L51 (40.0564, 63.5954) -> (40.0564, 25.7619)
  line L52 (40.0564, 25.7619) -> (89.9436, 63.5954) construction
  line L53 (89.9436, 25.7619) -> (40.0564, 63.5954) construction
  point P0 (0, 0)
  point P1 (65, 44.6786)
  dimension "d63" = 0
extrude "Extrusion5" cut sketch "Sketch6" against normal through all contours L49 L48 L51 L6 | L6 L51 L29 L49 | L29 L51 L50 L49
sketch "Sketch7" plane through (0, 0, 0) normal (0, 0, -1) x (-1, 0, 0)
  line L0 (-20, -20) -> (-20, 20) projected
  line L1 (-20, 20) -> (20, 20) projected
  line L2 (20, 20) -> (20, -20) projected
  line L3 (20, -20) -> (-20, -20) projected
  circle A0 centre (130, 25) radius 1.95 projected
  line L4 (110, -20) -> (110, 20) projected
  line L5 (110, 20) -> (150, 20) projected
  line L6 (150, 20) -> (150, -20) projected
  line L7 (150, -20) -> (110, -20) projected
  line L8 (45, -105) -> (45, -65) projected
  line L9 (45, -65) -> (85, -65) projected
  line L10 (85, -65) -> (85, -105) projected
  line L11 (85, -105) -> (45, -105) projected
  circle A1 centre (40, -95) radius 2.25 projected
  circle A2 centre (65, -120) radius 2.25 projected
  circle A3 centre (90, -95) radius 2.25 projected
  circle A4 centre (40, -70) radius 2.25 projected
  circle A5 centre (-25, 25) radius 2.25 projected
  circle A6 centre (-25, -25) radius 2.25 projected
  circle A7 centre (25, -25) radius 2.25 projected
  circle A8 centre (25, 25) radius 2.25 projected
  circle A9 centre (105, 0) radius 2.25 projected
  circle A10 centre (130, -25) radius 2.25 projected
  circle A11 centre (155, 0) radius 2.25 projected
  circle A12 centre (155, 25) radius 2.25 projected
  circle A13 centre (155, -25) radius 2.25 projected
  circle A14 centre (105, -25) radius 2.25 projected
  circle A15 centre (105, 25) radius 2.25 projected
  circle A16 centre (25, 0) radius 2.25 projected
  circle A17 centre (0, -25) radius 2.25 projected
  circle A18 centre (-25, 0) radius 2.25 projected
  circle A19 centre (0, 25) radius 2.25 projected
  circle A20 centre (90, -70) radius 2.25 projected
  circle A21 centre (90, -120) radius 2.25 projected
  circle A22 centre (40, -120) radius 2.25 projected
  line L12 (99.1421, -35) -> (99.1421, -45) projected
  line L13 (94.1421, -50) -> (99.1421, -45) projected
  line L14 (94.1421, -50) -> (35.8579, -50) projected
  line L15 (30.8579, -45) -> (35.8579, -50) projected
  line L16 (30.8579, -45) -> (30.8579, -35) projected
  line L17 (35.8579, -30) -> (30.8579, -35) projected
  line L18 (35.8579, -30) -> (94.1421, -30) projected
  line L19 (99.1421, -35) -> (94.1421, -30) projected
  line L20 (89.9436, 50) -> (89.9436, 40) projected
  line L21 (89.9436, 40) -> (94.4043, 40) projected
  line L22 (94.4043, 40) -> (100, 28) projected
  line L23 (100, -15) -> (100, 28) projected
  line L24 (95, -20) -> (100, -15) projected
  line L25 (35, -20) -> (95, -20) projected
  line L26 (30, -15) -> (35, -20) projected
  line L27 (30, 28) -> (30, -15) projected
  line L28 (30, 28) -> (35.5957, 40) projected
  line L29 (35.5957, 40) -> (40.0564, 40) projected
  line L30 (40.0564, 40) -> (40.0564, 50) projected
  line L31 (40.0564, 50) -> (29.225, 50) projected
  line L32 (29.225, 50) -> (19.8988, 30) projected
  line L33 (-28, 30) -> (19.8988, 30) projected
  line L34 (-30, 28) -> (-28, 30) projected
  line L35 (-30, -28) -> (-30, 28) projected
  line L36 (-28, -30) -> (-30, -28) projected
  line L37 (-10, -30) -> (-28, -30) projected
  line L38 (35, -75) -> (-10, -30) projected
  line L39 (35, -123) -> (35, -75) projected
  line L40 (37, -125) -> (35, -123) projected
  line L41 (93, -125) -> (37, -125) projected
  line L42 (95, -123) -> (93, -125) projected
  line L43 (95, -75) -> (95, -123) projected
  line L44 (140, -30) -> (95, -75) projected
  line L45 (158, -30) -> (140, -30) projected
  line L46 (160, -28) -> (158, -30) projected
  line L47 (160, 28) -> (160, -28) projected
  line L48 (158, 30) -> (160, 28) projected
  line L49 (110.1012, 30) -> (158, 30) projected
  line L50 (110.1012, 30) -> (100.775, 50) projected
  line L51 (100.775, 50) -> (89.9436, 50) projected
  circle A23 centre (65, -25) radius 3 projected
  circle A24 centre (35, 45) radius 3 projected
  circle A25 centre (95, -25) radius 3 projected
  circle A26 centre (35, -25) radius 3 projected
  circle A27 centre (95, 45) radius 3 projected
  line L52 (115, -9.4188) -> (15, -9.4188)
  line L53 (15, -9.4188) -> (15, -40.5812)
  line L54 (15, -40.5812) -> (115, -40.5812)
  line L55 (115, -40.5812) -> (115, -9.4188)
  circle A28 centre (65, -25) radius 3 projected
  line L56 (115, -9.4188) -> (15, -40.5812) construction
  line L57 (15, -9.4188) -> (115, -40.5812) construction
  circle A29 centre (15, -40.5812) radius 2.4
  circle A30 centre (115, -40.5812) radius 2.4
  point P0 (0, 0)
  dimension "d66" = 100
  dimension "d67" = 4.8
  dimension "d68" = 4.8
extrude "Extrusion6" cut sketch "Sketch7" against normal through all contours A29 L54 L53 | L53 L54 A29 | A30 L55 L54 | L54 L55 A30
equation "\"d33\" = deg_1"
properties part number "cellSTORM_inverted_base_vß"
